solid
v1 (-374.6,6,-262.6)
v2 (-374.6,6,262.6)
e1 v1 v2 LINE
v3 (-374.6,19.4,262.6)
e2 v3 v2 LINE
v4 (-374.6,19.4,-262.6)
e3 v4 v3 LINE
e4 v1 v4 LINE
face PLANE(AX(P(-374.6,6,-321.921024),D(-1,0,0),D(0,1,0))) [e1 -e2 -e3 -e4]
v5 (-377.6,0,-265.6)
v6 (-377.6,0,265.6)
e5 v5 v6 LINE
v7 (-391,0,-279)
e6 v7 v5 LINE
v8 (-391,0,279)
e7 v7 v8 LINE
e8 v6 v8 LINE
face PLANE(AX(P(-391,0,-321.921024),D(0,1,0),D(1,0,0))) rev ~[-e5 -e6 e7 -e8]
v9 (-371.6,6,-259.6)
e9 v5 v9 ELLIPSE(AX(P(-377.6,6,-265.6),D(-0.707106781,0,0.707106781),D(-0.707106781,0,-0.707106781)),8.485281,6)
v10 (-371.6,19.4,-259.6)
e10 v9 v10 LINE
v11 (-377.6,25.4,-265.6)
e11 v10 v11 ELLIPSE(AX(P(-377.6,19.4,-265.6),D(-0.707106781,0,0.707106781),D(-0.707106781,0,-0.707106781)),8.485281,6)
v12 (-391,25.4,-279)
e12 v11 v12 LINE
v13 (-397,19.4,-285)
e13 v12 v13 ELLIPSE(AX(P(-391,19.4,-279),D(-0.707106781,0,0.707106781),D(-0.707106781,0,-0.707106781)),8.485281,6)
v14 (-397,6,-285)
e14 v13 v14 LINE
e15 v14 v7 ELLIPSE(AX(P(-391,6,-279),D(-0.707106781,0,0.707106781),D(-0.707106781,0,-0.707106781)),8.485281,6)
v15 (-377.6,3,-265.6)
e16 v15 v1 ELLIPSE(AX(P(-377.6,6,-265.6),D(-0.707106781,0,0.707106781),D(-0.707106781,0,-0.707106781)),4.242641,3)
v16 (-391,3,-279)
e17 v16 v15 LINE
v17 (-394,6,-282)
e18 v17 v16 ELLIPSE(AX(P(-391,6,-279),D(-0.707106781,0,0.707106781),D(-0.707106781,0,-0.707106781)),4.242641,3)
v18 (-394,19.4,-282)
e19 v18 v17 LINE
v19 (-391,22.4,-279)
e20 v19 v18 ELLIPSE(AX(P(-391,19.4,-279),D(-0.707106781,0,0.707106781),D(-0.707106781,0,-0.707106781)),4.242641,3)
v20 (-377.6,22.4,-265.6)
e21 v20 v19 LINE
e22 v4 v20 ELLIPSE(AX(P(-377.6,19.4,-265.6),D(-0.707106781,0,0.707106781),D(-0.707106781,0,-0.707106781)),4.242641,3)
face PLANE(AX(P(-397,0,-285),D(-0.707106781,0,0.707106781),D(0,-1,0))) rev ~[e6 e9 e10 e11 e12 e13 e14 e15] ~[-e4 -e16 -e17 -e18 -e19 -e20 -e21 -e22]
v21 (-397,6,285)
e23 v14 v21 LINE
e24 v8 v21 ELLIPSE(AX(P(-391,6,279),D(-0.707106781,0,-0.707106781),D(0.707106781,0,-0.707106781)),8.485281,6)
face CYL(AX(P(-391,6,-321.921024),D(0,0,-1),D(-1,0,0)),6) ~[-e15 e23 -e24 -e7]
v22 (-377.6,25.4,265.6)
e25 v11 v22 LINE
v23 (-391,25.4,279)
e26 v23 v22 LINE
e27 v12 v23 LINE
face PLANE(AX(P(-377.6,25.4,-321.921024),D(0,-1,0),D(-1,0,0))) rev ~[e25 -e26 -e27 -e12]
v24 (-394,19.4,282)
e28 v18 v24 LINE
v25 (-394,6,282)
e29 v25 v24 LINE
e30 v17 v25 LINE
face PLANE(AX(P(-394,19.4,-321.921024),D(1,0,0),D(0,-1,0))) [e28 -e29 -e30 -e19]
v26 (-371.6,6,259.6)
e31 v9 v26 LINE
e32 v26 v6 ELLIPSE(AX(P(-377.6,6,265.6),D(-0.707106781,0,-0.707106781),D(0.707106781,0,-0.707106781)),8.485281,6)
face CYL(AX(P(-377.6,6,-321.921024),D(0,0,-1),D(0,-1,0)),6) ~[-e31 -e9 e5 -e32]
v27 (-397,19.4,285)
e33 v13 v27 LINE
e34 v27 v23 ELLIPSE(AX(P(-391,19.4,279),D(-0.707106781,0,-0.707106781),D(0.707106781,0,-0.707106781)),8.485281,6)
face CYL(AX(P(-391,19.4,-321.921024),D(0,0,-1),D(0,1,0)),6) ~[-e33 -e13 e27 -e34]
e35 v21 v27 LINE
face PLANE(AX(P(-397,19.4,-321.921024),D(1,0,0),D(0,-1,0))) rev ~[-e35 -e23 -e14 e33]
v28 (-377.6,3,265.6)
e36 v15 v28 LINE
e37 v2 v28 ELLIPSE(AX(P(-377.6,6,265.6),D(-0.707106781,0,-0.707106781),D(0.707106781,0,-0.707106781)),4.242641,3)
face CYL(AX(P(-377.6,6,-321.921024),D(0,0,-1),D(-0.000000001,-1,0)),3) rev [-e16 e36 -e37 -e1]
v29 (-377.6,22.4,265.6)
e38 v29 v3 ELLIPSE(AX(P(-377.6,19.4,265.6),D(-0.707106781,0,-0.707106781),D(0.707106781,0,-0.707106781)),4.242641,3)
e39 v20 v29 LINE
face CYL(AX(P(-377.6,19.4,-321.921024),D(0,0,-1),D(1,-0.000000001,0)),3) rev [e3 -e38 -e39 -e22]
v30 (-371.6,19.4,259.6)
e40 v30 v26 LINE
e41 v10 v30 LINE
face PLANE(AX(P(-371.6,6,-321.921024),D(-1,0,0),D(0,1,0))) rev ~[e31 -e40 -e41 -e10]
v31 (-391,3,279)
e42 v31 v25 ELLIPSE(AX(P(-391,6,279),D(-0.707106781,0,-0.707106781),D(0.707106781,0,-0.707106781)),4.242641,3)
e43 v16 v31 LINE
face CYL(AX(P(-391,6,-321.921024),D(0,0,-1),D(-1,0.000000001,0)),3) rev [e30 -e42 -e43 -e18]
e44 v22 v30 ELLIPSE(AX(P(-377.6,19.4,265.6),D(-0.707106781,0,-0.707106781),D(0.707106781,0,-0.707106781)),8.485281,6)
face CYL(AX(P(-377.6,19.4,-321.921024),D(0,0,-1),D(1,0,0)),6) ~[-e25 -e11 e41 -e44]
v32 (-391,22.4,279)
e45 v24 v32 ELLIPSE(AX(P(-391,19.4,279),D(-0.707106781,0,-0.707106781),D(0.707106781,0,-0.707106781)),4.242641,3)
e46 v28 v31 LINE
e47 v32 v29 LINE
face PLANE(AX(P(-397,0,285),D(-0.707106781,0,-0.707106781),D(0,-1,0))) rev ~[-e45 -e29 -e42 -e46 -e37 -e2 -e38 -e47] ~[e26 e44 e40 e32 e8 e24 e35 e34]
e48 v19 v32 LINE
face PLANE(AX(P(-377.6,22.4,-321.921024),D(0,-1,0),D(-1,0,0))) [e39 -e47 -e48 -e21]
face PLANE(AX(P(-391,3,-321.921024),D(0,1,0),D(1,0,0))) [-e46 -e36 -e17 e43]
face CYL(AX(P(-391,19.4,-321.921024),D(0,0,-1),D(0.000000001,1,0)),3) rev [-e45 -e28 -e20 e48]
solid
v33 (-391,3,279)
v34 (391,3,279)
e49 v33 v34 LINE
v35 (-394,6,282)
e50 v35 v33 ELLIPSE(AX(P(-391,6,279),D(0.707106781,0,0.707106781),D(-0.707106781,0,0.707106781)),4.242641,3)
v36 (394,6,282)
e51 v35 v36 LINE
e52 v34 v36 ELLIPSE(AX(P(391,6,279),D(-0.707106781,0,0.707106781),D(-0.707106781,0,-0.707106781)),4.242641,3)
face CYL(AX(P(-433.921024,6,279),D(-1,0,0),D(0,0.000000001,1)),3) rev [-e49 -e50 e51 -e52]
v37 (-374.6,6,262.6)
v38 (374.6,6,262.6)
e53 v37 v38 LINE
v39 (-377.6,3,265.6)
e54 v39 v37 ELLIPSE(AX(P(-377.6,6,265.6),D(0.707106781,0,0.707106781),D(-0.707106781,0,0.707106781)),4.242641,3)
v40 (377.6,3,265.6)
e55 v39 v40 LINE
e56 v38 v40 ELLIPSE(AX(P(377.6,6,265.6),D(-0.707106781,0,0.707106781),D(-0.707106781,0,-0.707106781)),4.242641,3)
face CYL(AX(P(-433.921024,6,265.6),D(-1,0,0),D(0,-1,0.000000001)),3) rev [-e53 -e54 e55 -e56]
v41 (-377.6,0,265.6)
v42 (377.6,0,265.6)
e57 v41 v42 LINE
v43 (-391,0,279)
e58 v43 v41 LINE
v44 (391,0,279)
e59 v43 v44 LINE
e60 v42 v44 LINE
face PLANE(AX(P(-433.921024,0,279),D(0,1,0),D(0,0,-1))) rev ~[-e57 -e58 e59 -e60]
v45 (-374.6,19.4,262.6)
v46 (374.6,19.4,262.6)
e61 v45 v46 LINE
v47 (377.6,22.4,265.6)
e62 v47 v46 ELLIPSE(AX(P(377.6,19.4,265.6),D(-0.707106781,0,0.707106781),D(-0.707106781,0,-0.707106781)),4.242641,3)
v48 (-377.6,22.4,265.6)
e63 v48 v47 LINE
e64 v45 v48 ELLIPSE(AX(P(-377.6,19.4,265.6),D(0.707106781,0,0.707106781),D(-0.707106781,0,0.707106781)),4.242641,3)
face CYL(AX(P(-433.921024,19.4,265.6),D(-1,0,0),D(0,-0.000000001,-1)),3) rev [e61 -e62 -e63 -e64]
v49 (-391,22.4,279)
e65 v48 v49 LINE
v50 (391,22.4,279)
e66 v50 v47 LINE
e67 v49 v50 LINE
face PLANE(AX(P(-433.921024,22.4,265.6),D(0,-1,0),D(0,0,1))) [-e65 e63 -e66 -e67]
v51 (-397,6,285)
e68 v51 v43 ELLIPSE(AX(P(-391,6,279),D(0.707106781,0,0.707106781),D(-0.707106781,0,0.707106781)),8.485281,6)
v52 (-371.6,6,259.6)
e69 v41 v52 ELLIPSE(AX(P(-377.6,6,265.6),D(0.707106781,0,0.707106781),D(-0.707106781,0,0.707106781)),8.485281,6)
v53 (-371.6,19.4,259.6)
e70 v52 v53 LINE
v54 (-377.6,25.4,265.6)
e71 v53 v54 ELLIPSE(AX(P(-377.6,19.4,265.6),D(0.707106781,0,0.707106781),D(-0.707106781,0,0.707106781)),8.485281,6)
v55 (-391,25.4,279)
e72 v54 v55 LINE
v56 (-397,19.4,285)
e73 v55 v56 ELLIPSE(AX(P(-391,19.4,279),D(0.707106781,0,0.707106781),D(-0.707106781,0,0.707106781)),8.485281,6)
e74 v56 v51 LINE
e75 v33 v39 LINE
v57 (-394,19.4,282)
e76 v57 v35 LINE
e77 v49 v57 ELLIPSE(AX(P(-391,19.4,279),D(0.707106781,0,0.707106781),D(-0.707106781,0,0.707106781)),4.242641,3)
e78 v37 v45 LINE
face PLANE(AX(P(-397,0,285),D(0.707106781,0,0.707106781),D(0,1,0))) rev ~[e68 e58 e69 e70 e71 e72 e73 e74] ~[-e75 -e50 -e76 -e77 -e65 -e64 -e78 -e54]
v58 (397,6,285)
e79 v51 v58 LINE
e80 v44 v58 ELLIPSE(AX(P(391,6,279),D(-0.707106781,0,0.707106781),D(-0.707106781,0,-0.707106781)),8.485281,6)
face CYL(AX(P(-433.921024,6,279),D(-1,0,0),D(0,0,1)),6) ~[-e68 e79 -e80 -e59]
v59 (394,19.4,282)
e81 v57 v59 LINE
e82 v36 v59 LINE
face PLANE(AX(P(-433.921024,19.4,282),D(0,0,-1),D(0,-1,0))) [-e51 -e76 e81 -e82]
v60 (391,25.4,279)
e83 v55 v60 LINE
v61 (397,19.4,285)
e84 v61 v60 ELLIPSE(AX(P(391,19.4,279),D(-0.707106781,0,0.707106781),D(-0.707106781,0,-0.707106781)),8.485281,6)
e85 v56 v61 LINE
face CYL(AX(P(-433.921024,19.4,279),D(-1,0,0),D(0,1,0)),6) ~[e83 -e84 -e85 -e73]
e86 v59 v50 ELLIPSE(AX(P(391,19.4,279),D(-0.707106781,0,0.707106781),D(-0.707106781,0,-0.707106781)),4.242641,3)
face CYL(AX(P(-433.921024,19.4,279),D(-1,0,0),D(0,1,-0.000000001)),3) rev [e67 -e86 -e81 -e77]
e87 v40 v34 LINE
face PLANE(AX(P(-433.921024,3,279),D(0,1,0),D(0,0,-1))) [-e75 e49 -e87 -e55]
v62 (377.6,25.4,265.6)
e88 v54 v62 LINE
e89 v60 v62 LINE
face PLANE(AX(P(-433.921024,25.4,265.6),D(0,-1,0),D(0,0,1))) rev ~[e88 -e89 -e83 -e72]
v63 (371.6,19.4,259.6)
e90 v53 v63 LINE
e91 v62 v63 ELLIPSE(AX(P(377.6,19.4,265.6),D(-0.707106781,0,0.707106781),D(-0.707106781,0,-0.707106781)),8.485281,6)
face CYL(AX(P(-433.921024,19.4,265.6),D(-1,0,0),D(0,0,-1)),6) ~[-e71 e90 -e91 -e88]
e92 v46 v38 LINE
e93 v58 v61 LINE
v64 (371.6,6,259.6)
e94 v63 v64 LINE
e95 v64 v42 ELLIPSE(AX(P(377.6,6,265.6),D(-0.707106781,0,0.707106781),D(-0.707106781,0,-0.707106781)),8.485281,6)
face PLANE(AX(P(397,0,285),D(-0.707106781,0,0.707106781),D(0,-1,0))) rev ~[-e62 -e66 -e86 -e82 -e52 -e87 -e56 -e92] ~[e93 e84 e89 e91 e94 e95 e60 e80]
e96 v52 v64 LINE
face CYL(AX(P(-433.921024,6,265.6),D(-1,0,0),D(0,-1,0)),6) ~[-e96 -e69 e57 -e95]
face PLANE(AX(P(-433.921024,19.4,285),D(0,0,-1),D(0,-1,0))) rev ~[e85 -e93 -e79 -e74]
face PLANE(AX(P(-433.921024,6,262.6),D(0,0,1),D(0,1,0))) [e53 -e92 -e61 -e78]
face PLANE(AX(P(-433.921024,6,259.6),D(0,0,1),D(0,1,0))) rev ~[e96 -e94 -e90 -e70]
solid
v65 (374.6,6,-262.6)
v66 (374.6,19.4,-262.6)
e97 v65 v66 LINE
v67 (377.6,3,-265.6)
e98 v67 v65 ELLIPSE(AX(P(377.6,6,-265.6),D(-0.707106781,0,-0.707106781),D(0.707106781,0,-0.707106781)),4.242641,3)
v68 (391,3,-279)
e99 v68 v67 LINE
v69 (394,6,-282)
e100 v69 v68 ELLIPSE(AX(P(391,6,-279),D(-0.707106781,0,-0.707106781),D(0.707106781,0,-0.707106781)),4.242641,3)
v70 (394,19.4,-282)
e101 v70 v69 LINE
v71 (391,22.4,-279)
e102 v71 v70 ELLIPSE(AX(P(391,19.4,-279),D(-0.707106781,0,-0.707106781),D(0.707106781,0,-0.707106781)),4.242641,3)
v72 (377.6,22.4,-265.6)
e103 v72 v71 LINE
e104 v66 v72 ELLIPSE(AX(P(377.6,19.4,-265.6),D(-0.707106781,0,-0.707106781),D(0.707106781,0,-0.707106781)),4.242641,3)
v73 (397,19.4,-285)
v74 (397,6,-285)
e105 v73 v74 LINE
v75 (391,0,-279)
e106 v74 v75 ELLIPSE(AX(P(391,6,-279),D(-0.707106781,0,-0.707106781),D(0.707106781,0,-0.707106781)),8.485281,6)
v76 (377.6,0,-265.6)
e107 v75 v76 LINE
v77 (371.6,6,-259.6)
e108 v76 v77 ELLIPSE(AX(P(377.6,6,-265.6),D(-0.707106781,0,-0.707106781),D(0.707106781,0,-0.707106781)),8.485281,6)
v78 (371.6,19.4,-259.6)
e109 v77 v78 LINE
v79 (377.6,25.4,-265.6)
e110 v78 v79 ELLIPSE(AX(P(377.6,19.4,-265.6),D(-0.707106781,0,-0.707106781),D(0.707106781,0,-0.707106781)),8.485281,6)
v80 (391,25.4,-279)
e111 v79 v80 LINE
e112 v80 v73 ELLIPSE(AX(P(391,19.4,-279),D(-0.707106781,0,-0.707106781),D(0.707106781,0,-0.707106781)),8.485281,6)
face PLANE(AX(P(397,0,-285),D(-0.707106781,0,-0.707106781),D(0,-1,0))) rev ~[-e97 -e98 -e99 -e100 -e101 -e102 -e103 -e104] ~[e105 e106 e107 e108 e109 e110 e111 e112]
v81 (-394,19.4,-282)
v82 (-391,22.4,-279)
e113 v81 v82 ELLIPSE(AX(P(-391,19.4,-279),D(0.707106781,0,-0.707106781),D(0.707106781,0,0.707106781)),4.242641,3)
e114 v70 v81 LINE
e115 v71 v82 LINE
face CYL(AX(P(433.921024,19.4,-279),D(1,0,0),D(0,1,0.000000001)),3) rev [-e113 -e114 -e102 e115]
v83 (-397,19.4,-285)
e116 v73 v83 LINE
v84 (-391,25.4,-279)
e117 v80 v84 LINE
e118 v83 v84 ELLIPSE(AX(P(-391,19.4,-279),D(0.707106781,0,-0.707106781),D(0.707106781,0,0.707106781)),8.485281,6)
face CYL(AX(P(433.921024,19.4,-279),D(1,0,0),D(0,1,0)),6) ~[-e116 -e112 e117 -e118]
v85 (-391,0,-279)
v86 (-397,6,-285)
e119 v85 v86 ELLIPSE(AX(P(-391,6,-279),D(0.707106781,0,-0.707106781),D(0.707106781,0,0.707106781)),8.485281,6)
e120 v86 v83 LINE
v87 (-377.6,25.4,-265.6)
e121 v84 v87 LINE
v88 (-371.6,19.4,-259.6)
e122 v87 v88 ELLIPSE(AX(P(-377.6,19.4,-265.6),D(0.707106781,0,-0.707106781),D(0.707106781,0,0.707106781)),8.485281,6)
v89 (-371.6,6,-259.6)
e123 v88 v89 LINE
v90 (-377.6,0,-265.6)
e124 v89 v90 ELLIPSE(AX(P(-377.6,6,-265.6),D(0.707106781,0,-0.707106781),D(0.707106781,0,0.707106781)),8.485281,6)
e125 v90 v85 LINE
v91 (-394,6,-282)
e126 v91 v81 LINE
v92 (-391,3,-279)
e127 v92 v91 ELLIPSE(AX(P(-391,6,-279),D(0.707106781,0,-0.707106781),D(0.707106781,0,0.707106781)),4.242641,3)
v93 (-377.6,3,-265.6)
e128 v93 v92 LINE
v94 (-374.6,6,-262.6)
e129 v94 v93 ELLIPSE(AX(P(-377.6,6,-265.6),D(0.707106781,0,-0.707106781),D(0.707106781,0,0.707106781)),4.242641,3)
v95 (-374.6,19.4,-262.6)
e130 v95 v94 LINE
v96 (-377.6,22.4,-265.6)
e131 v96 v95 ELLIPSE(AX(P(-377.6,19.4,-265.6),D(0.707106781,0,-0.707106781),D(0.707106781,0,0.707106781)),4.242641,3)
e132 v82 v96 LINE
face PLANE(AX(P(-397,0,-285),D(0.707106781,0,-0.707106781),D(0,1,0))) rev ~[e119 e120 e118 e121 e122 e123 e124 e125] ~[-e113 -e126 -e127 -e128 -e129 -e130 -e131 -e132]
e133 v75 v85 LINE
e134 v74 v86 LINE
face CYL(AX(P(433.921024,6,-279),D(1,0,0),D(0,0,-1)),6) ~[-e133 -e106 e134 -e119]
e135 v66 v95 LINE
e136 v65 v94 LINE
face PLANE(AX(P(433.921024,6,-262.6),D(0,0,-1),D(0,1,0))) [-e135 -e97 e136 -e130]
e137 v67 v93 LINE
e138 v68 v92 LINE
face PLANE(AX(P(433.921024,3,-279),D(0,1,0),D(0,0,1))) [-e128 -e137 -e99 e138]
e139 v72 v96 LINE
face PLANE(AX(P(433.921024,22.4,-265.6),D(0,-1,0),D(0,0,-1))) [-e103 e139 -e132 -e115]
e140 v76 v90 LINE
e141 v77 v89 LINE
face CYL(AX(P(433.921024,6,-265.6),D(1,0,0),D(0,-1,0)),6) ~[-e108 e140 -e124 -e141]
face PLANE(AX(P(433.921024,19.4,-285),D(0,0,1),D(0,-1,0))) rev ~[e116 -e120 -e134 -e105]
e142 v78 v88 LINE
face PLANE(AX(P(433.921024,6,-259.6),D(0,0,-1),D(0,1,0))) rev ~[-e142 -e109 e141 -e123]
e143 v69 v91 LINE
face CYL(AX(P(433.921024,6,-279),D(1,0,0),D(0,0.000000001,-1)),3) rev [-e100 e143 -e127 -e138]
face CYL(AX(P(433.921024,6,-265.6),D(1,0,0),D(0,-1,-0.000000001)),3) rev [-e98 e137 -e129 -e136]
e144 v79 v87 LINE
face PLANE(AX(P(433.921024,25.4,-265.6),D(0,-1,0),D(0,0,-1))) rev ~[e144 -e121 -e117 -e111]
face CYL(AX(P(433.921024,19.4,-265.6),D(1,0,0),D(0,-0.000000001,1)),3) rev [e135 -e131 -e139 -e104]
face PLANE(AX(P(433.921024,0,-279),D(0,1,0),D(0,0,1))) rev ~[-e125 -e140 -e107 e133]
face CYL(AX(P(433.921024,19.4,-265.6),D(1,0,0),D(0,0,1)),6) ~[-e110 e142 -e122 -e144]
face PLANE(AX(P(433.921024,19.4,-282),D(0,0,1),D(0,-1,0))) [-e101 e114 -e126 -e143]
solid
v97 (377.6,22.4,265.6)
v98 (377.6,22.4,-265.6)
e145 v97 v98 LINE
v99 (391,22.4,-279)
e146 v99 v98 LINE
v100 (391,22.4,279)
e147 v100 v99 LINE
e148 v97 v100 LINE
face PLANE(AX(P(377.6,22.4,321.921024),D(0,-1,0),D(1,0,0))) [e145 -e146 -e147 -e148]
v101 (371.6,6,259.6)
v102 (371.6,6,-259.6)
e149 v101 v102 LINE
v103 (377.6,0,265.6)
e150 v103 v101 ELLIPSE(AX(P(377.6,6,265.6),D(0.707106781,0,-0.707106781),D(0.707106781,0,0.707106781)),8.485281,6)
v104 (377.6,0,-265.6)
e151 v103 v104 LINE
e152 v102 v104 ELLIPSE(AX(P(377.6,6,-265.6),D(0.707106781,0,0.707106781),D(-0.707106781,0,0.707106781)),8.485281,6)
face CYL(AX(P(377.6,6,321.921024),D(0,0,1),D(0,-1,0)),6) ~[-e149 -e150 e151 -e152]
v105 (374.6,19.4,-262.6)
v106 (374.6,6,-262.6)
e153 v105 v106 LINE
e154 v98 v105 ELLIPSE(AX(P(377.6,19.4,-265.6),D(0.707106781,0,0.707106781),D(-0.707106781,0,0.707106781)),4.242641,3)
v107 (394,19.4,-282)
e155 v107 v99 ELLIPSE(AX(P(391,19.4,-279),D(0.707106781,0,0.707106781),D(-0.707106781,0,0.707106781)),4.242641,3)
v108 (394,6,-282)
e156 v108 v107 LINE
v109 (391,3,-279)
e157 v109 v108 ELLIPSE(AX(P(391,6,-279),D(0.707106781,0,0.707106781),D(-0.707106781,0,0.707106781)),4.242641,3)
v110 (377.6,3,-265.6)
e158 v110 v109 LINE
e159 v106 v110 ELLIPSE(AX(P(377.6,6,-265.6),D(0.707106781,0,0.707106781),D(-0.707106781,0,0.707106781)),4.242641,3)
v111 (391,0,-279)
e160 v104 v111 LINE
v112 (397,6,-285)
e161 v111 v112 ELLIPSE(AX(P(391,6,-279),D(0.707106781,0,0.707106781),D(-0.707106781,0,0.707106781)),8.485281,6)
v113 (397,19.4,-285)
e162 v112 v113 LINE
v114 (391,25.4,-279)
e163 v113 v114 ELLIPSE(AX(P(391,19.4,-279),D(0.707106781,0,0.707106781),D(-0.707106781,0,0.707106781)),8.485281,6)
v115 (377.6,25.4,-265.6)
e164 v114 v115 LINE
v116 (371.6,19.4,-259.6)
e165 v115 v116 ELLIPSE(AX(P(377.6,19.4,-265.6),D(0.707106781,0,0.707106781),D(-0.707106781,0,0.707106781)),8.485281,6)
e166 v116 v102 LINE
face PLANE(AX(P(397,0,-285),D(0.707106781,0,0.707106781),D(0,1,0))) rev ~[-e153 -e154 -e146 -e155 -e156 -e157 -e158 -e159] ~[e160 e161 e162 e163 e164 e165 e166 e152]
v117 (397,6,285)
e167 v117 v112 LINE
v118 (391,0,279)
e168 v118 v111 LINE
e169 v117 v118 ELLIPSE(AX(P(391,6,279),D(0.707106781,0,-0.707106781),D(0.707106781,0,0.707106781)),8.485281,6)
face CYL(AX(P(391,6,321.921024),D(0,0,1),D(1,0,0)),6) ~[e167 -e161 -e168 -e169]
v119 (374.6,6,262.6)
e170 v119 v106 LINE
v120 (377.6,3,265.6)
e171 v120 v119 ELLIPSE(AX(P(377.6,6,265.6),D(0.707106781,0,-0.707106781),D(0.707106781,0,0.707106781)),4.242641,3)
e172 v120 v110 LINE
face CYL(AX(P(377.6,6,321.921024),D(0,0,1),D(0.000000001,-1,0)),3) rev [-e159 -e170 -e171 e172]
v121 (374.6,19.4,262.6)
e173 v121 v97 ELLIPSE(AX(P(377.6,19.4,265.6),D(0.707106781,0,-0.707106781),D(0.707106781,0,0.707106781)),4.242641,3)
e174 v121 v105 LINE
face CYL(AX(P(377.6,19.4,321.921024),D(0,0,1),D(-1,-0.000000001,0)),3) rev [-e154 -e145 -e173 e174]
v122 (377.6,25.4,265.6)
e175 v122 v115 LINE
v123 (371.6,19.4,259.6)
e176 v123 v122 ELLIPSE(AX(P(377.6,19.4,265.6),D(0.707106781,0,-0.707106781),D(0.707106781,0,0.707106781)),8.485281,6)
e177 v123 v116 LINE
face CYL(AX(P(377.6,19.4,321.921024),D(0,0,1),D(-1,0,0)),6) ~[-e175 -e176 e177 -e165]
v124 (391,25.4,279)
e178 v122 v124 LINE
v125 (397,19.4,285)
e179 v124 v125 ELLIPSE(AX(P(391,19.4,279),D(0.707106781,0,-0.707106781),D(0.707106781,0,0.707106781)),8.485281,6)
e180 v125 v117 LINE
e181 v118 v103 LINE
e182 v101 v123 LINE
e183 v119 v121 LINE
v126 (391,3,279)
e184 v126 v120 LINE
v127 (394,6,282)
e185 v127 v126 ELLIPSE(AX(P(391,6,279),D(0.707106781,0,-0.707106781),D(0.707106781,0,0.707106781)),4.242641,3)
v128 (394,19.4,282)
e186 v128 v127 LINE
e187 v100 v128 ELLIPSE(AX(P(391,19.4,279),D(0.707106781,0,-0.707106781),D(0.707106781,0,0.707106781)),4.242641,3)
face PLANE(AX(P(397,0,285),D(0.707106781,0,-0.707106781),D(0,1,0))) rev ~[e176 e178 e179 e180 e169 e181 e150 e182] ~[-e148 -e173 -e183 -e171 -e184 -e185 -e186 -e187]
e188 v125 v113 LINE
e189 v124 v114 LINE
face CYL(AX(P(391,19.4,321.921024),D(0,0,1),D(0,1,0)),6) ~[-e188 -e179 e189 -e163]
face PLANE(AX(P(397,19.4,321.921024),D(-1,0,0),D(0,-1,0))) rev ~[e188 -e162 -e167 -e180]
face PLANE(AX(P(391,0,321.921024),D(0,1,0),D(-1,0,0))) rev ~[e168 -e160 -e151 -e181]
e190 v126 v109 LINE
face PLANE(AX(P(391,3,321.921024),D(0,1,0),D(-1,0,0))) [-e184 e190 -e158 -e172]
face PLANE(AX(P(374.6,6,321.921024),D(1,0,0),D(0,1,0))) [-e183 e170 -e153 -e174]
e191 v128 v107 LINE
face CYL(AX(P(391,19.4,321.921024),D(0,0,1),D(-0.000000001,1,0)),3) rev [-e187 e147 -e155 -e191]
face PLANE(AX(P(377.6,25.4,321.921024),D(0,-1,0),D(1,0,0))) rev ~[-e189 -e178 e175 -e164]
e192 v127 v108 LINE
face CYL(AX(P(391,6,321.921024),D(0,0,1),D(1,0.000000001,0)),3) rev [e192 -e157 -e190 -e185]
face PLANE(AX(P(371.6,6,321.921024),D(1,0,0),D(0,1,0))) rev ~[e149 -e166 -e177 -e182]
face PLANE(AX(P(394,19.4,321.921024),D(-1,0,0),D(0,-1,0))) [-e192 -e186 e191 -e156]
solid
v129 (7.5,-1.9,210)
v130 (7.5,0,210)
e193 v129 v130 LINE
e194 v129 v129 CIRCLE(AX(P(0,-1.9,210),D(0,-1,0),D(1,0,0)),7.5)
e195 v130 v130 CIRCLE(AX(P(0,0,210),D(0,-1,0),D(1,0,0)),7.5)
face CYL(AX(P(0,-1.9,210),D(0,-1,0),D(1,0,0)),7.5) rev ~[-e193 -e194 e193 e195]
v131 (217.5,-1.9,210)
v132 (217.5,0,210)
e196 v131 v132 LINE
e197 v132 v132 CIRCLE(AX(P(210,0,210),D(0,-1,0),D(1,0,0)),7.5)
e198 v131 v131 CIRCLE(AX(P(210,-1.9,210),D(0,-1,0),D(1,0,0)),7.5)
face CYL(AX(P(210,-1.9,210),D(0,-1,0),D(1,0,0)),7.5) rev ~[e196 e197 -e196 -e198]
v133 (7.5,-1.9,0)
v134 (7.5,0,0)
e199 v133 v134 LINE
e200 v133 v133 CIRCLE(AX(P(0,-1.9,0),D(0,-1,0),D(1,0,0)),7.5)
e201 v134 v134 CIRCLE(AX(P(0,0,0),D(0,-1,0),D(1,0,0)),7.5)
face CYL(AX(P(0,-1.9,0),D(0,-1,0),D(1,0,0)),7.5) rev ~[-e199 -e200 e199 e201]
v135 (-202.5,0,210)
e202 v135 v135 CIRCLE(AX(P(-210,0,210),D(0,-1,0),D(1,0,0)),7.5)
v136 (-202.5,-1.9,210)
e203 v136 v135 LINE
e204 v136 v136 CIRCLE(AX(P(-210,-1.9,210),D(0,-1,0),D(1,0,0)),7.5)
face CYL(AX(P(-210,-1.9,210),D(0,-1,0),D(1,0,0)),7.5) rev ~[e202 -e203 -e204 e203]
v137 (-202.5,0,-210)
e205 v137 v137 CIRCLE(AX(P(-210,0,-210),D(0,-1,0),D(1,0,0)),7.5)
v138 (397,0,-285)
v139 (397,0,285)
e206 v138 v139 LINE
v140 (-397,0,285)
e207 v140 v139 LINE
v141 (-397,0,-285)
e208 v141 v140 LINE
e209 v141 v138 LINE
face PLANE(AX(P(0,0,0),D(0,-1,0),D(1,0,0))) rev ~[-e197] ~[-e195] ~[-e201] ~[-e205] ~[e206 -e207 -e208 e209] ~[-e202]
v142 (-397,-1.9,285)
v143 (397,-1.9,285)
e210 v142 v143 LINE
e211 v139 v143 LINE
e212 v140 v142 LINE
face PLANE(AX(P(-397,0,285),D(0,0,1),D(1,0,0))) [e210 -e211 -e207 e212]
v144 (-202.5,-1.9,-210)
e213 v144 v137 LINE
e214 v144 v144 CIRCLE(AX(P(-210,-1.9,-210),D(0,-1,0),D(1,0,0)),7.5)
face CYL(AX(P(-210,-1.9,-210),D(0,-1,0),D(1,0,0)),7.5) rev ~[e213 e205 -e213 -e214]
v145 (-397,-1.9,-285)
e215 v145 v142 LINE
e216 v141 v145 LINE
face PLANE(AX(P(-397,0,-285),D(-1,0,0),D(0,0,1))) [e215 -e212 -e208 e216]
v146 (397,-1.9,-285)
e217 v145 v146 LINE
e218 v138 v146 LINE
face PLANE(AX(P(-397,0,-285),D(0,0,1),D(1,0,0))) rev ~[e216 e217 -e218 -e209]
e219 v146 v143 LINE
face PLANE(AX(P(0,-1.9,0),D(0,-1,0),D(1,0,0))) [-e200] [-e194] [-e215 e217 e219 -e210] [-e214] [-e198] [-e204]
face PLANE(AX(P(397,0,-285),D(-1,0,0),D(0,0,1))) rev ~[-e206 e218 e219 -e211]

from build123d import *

# Parameters (mm, degrees)
TUBO_CUADRADO_2_X_2_X_0_25_1_DEPTH      = 606.921024484
TUBO_CUADRADO_2_X_2_X_0_25_1_DEPTH_BACK = 36.921024484
TUBO_CUADRADO_2_X_2_X_0_25_1_2_DEPTH    = 867.842048969
TUBO_CUADRADO_2_X_2_X_0_25_1_3_DEPTH    = 643.842048969
TUBO_CUADRADO_2_X_2_X_0_25_1_4_DEPTH    = 867.842048969
CROQUIS3_W                              = 794
CROQUIS3_H                              = 570
SALIENTE_EXTRUIR1_DEPTH                 = 1.9
CROQUIS6_R                              = 7.5
CORTAR_EXTRUIR2_DEPTH                   = 10


with BuildPart() as part:
    # Sketch1 → Tubo cuadrado 2 X 2 X 0.25(1) (new, two sides: drawn at the far end of the back side and taken through both)
    with BuildSketch(Plane(origin=(-384.3, 12.7, -285), x_dir=(1, 0, 0), z_dir=(0, 0, 1)).offset(-TUBO_CUADRADO_2_X_2_X_0_25_1_DEPTH_BACK)):
        with BuildLine():
            Line((-6.7, -12.7), (6.7, -12.7))
            ThreePointArc((6.7, -12.7), (10.942640687, -10.942640687), (12.7, -6.7))
            Line((12.7, -6.7), (12.7, 6.7))
            ThreePointArc((12.7, 6.7), (10.942640687, 10.942640687), (6.7, 12.7))
            Line((6.7, 12.7), (-6.7, 12.7))
            ThreePointArc((-6.7, 12.7), (-10.942640687, 10.942640687), (-12.7, 6.7))
            Line((-12.7, 6.7), (-12.7, -6.7))
            ThreePointArc((-12.7, -6.7), (-10.942640687, -10.942640687), (-6.7, -12.7))
        make_face()
        with BuildLine():
            Line((-6.7, -9.7), (6.7, -9.7))
            ThreePointArc((6.7, -9.7), (8.821320344, -8.821320344), (9.7, -6.7))
            Line((9.7, -6.7), (9.7, 6.7))
            ThreePointArc((9.7, 6.7), (8.821320344, 8.821320344), (6.7, 9.7))
            Line((6.7, 9.7), (-6.7, 9.7))
            ThreePointArc((-6.7, 9.7), (-8.821320344, 8.821320344), (-9.7, 6.7))
            Line((-9.7, 6.7), (-9.7, -6.7))
            ThreePointArc((-9.7, -6.7), (-8.821320344, -8.821320344), (-6.7, -9.7))
        make_face(mode=Mode.SUBTRACT)
    extrude(amount=TUBO_CUADRADO_2_X_2_X_0_25_1_DEPTH + TUBO_CUADRADO_2_X_2_X_0_25_1_DEPTH_BACK)

    # Tubo cuadrado 2 X 2 X 0.25(1) mitre 1
    split(bisect_by=Plane(origin=(-397, 0, -285), x_dir=(0, -1, 0), z_dir=(-0.707106781, 0, 0.707106781)), keep=Keep.TOP)

    # Tubo cuadrado 2 X 2 X 0.25(1) mitre 2
    split(bisect_by=Plane(origin=(-397, 0, 285), x_dir=(0, -1, 0), z_dir=(-0.707106781, 0, -0.707106781)), keep=Keep.TOP)


with BuildPart() as body_2:
    # Sketch1 on segment 2 (carried to segment 2) → Tubo cuadrado 2 X 2 X 0.25_1 2 (new body)
    with BuildSketch(Plane(origin=(-433.921024484, 12.7, 272.3), x_dir=(0, 0, -1), z_dir=(1, 0, 0))):
        with BuildLine():
            Line((-6.7, -12.7), (6.7, -12.7))
            ThreePointArc((6.7, -12.7), (10.942640687, -10.942640687), (12.7, -6.7))
            Line((12.7, -6.7), (12.7, 6.7))
            ThreePointArc((12.7, 6.7), (10.942640687, 10.942640687), (6.7, 12.7))
            Line((6.7, 12.7), (-6.7, 12.7))
            ThreePointArc((-6.7, 12.7), (-10.942640687, 10.942640687), (-12.7, 6.7))
            Line((-12.7, 6.7), (-12.7, -6.7))
            ThreePointArc((-12.7, -6.7), (-10.942640687, -10.942640687), (-6.7, -12.7))
        make_face()
        with BuildLine():
            Line((-6.7, -9.7), (6.7, -9.7))
            ThreePointArc((6.7, -9.7), (8.821320344, -8.821320344), (9.7, -6.7))
            Line((9.7, -6.7), (9.7, 6.7))
            ThreePointArc((9.7, 6.7), (8.821320344, 8.821320344), (6.7, 9.7))
            Line((6.7, 9.7), (-6.7, 9.7))
            ThreePointArc((-6.7, 9.7), (-8.821320344, 8.821320344), (-9.7, 6.7))
            Line((-9.7, 6.7), (-9.7, -6.7))
            ThreePointArc((-9.7, -6.7), (-8.821320344, -8.821320344), (-6.7, -9.7))
        make_face(mode=Mode.SUBTRACT)
    extrude(amount=TUBO_CUADRADO_2_X_2_X_0_25_1_2_DEPTH)

    # Tubo cuadrado 2 X 2 X 0.25_1 2 mitre 1
    split(bisect_by=Plane(origin=(-397, 0, 285), x_dir=(0, 1, 0), z_dir=(0.707106781, 0, 0.707106781)), keep=Keep.TOP)

    # Tubo cuadrado 2 X 2 X 0.25_1 2 mitre 2
    split(bisect_by=Plane(origin=(397, 0, 285), x_dir=(0, -1, 0), z_dir=(-0.707106781, 0, 0.707106781)), keep=Keep.TOP)


with BuildPart() as body_3:
    # Sketch1 on segment 3 (carried to segment 3) → Tubo cuadrado 2 X 2 X 0.25_1 3 (new body)
    with BuildSketch(Plane(origin=(384.3, 12.7, 321.921024484), x_dir=(-1, 0, 0), z_dir=(0, 0, -1))):
        with BuildLine():
            Line((-6.7, -12.7), (6.7, -12.7))
            ThreePointArc((6.7, -12.7), (10.942640687, -10.942640687), (12.7, -6.7))
            Line((12.7, -6.7), (12.7, 6.7))
            ThreePointArc((12.7, 6.7), (10.942640687, 10.942640687), (6.7, 12.7))
            Line((6.7, 12.7), (-6.7, 12.7))
            ThreePointArc((-6.7, 12.7), (-10.942640687, 10.942640687), (-12.7, 6.7))
            Line((-12.7, 6.7), (-12.7, -6.7))
            ThreePointArc((-12.7, -6.7), (-10.942640687, -10.942640687), (-6.7, -12.7))
        make_face()
        with BuildLine():
            Line((-6.7, -9.7), (6.7, -9.7))
            ThreePointArc((6.7, -9.7), (8.821320344, -8.821320344), (9.7, -6.7))
            Line((9.7, -6.7), (9.7, 6.7))
            ThreePointArc((9.7, 6.7), (8.821320344, 8.821320344), (6.7, 9.7))
            Line((6.7, 9.7), (-6.7, 9.7))
            ThreePointArc((-6.7, 9.7), (-8.821320344, 8.821320344), (-9.7, 6.7))
            Line((-9.7, 6.7), (-9.7, -6.7))
            ThreePointArc((-9.7, -6.7), (-8.821320344, -8.821320344), (-6.7, -9.7))
        make_face(mode=Mode.SUBTRACT)
    extrude(amount=TUBO_CUADRADO_2_X_2_X_0_25_1_3_DEPTH)

    # Tubo cuadrado 2 X 2 X 0.25_1 3 mitre 1
    split(bisect_by=Plane(origin=(397, 0, -285), x_dir=(0, 1, 0), z_dir=(0.707106781, 0, 0.707106781)), keep=Keep.TOP)

    # Tubo cuadrado 2 X 2 X 0.25_1 3 mitre 2
    split(bisect_by=Plane(origin=(397, 0, 285), x_dir=(0, 1, 0), z_dir=(0.707106781, 0, -0.707106781)), keep=Keep.TOP)


with BuildPart() as body_4:
    # Sketch1 on segment 4 (carried to segment 4) → Tubo cuadrado 2 X 2 X 0.25_1 4 (new body)
    with BuildSketch(Plane(origin=(433.921024484, 12.7, -272.3), x_dir=(0, 0, 1), z_dir=(-1, 0, 0))):
        with BuildLine():
            Line((-6.7, -12.7), (6.7, -12.7))
            ThreePointArc((6.7, -12.7), (10.942640687, -10.942640687), (12.7, -6.7))
            Line((12.7, -6.7), (12.7, 6.7))
            ThreePointArc((12.7, 6.7), (10.942640687, 10.942640687), (6.7, 12.7))
            Line((6.7, 12.7), (-6.7, 12.7))
            ThreePointArc((-6.7, 12.7), (-10.942640687, 10.942640687), (-12.7, 6.7))
            Line((-12.7, 6.7), (-12.7, -6.7))
            ThreePointArc((-12.7, -6.7), (-10.942640687, -10.942640687), (-6.7, -12.7))
        make_face()
        with BuildLine():
            Line((-6.7, -9.7), (6.7, -9.7))
            ThreePointArc((6.7, -9.7), (8.821320344, -8.821320344), (9.7, -6.7))
            Line((9.7, -6.7), (9.7, 6.7))
            ThreePointArc((9.7, 6.7), (8.821320344, 8.821320344), (6.7, 9.7))
            Line((6.7, 9.7), (-6.7, 9.7))
            ThreePointArc((-6.7, 9.7), (-8.821320344, 8.821320344), (-9.7, 6.7))
            Line((-9.7, 6.7), (-9.7, -6.7))
            ThreePointArc((-9.7, -6.7), (-8.821320344, -8.821320344), (-6.7, -9.7))
        make_face(mode=Mode.SUBTRACT)
    extrude(amount=TUBO_CUADRADO_2_X_2_X_0_25_1_4_DEPTH)

    # Tubo cuadrado 2 X 2 X 0.25_1 4 mitre 1
    split(bisect_by=Plane(origin=(-397, 0, -285), x_dir=(0, 1, 0), z_dir=(0.707106781, 0, -0.707106781)), keep=Keep.TOP)

    # Tubo cuadrado 2 X 2 X 0.25_1 4 mitre 2
    split(bisect_by=Plane(origin=(397, 0, -285), x_dir=(0, -1, 0), z_dir=(-0.707106781, 0, -0.707106781)), keep=Keep.TOP)


with BuildPart() as body_5:
    # Croquis3 → Saliente-Extruir1 (new body)
    with BuildSketch(Plane.XZ):
        Rectangle(CROQUIS3_W, CROQUIS3_H)
    extrude(amount=SALIENTE_EXTRUIR1_DEPTH)

    # Croquis6 → Cortar-Extruir2 (cut)
    with BuildSketch(Plane.XZ.offset(1.9)):
        Circle(CROQUIS6_R)
        with Locations((210, 210)):
            Circle(CROQUIS6_R)
        with Locations((-210, 210)):
            Circle(CROQUIS6_R)
        with Locations((-210, -210)):
            Circle(CROQUIS6_R)
        with Locations((0, 210)):
            Circle(CROQUIS6_R)
    extrude(amount=-CORTAR_EXTRUIR2_DEPTH, mode=Mode.SUBTRACT)


solid = Compound([part.part, body_2.part, body_3.part, body_4.part, body_5.part])
